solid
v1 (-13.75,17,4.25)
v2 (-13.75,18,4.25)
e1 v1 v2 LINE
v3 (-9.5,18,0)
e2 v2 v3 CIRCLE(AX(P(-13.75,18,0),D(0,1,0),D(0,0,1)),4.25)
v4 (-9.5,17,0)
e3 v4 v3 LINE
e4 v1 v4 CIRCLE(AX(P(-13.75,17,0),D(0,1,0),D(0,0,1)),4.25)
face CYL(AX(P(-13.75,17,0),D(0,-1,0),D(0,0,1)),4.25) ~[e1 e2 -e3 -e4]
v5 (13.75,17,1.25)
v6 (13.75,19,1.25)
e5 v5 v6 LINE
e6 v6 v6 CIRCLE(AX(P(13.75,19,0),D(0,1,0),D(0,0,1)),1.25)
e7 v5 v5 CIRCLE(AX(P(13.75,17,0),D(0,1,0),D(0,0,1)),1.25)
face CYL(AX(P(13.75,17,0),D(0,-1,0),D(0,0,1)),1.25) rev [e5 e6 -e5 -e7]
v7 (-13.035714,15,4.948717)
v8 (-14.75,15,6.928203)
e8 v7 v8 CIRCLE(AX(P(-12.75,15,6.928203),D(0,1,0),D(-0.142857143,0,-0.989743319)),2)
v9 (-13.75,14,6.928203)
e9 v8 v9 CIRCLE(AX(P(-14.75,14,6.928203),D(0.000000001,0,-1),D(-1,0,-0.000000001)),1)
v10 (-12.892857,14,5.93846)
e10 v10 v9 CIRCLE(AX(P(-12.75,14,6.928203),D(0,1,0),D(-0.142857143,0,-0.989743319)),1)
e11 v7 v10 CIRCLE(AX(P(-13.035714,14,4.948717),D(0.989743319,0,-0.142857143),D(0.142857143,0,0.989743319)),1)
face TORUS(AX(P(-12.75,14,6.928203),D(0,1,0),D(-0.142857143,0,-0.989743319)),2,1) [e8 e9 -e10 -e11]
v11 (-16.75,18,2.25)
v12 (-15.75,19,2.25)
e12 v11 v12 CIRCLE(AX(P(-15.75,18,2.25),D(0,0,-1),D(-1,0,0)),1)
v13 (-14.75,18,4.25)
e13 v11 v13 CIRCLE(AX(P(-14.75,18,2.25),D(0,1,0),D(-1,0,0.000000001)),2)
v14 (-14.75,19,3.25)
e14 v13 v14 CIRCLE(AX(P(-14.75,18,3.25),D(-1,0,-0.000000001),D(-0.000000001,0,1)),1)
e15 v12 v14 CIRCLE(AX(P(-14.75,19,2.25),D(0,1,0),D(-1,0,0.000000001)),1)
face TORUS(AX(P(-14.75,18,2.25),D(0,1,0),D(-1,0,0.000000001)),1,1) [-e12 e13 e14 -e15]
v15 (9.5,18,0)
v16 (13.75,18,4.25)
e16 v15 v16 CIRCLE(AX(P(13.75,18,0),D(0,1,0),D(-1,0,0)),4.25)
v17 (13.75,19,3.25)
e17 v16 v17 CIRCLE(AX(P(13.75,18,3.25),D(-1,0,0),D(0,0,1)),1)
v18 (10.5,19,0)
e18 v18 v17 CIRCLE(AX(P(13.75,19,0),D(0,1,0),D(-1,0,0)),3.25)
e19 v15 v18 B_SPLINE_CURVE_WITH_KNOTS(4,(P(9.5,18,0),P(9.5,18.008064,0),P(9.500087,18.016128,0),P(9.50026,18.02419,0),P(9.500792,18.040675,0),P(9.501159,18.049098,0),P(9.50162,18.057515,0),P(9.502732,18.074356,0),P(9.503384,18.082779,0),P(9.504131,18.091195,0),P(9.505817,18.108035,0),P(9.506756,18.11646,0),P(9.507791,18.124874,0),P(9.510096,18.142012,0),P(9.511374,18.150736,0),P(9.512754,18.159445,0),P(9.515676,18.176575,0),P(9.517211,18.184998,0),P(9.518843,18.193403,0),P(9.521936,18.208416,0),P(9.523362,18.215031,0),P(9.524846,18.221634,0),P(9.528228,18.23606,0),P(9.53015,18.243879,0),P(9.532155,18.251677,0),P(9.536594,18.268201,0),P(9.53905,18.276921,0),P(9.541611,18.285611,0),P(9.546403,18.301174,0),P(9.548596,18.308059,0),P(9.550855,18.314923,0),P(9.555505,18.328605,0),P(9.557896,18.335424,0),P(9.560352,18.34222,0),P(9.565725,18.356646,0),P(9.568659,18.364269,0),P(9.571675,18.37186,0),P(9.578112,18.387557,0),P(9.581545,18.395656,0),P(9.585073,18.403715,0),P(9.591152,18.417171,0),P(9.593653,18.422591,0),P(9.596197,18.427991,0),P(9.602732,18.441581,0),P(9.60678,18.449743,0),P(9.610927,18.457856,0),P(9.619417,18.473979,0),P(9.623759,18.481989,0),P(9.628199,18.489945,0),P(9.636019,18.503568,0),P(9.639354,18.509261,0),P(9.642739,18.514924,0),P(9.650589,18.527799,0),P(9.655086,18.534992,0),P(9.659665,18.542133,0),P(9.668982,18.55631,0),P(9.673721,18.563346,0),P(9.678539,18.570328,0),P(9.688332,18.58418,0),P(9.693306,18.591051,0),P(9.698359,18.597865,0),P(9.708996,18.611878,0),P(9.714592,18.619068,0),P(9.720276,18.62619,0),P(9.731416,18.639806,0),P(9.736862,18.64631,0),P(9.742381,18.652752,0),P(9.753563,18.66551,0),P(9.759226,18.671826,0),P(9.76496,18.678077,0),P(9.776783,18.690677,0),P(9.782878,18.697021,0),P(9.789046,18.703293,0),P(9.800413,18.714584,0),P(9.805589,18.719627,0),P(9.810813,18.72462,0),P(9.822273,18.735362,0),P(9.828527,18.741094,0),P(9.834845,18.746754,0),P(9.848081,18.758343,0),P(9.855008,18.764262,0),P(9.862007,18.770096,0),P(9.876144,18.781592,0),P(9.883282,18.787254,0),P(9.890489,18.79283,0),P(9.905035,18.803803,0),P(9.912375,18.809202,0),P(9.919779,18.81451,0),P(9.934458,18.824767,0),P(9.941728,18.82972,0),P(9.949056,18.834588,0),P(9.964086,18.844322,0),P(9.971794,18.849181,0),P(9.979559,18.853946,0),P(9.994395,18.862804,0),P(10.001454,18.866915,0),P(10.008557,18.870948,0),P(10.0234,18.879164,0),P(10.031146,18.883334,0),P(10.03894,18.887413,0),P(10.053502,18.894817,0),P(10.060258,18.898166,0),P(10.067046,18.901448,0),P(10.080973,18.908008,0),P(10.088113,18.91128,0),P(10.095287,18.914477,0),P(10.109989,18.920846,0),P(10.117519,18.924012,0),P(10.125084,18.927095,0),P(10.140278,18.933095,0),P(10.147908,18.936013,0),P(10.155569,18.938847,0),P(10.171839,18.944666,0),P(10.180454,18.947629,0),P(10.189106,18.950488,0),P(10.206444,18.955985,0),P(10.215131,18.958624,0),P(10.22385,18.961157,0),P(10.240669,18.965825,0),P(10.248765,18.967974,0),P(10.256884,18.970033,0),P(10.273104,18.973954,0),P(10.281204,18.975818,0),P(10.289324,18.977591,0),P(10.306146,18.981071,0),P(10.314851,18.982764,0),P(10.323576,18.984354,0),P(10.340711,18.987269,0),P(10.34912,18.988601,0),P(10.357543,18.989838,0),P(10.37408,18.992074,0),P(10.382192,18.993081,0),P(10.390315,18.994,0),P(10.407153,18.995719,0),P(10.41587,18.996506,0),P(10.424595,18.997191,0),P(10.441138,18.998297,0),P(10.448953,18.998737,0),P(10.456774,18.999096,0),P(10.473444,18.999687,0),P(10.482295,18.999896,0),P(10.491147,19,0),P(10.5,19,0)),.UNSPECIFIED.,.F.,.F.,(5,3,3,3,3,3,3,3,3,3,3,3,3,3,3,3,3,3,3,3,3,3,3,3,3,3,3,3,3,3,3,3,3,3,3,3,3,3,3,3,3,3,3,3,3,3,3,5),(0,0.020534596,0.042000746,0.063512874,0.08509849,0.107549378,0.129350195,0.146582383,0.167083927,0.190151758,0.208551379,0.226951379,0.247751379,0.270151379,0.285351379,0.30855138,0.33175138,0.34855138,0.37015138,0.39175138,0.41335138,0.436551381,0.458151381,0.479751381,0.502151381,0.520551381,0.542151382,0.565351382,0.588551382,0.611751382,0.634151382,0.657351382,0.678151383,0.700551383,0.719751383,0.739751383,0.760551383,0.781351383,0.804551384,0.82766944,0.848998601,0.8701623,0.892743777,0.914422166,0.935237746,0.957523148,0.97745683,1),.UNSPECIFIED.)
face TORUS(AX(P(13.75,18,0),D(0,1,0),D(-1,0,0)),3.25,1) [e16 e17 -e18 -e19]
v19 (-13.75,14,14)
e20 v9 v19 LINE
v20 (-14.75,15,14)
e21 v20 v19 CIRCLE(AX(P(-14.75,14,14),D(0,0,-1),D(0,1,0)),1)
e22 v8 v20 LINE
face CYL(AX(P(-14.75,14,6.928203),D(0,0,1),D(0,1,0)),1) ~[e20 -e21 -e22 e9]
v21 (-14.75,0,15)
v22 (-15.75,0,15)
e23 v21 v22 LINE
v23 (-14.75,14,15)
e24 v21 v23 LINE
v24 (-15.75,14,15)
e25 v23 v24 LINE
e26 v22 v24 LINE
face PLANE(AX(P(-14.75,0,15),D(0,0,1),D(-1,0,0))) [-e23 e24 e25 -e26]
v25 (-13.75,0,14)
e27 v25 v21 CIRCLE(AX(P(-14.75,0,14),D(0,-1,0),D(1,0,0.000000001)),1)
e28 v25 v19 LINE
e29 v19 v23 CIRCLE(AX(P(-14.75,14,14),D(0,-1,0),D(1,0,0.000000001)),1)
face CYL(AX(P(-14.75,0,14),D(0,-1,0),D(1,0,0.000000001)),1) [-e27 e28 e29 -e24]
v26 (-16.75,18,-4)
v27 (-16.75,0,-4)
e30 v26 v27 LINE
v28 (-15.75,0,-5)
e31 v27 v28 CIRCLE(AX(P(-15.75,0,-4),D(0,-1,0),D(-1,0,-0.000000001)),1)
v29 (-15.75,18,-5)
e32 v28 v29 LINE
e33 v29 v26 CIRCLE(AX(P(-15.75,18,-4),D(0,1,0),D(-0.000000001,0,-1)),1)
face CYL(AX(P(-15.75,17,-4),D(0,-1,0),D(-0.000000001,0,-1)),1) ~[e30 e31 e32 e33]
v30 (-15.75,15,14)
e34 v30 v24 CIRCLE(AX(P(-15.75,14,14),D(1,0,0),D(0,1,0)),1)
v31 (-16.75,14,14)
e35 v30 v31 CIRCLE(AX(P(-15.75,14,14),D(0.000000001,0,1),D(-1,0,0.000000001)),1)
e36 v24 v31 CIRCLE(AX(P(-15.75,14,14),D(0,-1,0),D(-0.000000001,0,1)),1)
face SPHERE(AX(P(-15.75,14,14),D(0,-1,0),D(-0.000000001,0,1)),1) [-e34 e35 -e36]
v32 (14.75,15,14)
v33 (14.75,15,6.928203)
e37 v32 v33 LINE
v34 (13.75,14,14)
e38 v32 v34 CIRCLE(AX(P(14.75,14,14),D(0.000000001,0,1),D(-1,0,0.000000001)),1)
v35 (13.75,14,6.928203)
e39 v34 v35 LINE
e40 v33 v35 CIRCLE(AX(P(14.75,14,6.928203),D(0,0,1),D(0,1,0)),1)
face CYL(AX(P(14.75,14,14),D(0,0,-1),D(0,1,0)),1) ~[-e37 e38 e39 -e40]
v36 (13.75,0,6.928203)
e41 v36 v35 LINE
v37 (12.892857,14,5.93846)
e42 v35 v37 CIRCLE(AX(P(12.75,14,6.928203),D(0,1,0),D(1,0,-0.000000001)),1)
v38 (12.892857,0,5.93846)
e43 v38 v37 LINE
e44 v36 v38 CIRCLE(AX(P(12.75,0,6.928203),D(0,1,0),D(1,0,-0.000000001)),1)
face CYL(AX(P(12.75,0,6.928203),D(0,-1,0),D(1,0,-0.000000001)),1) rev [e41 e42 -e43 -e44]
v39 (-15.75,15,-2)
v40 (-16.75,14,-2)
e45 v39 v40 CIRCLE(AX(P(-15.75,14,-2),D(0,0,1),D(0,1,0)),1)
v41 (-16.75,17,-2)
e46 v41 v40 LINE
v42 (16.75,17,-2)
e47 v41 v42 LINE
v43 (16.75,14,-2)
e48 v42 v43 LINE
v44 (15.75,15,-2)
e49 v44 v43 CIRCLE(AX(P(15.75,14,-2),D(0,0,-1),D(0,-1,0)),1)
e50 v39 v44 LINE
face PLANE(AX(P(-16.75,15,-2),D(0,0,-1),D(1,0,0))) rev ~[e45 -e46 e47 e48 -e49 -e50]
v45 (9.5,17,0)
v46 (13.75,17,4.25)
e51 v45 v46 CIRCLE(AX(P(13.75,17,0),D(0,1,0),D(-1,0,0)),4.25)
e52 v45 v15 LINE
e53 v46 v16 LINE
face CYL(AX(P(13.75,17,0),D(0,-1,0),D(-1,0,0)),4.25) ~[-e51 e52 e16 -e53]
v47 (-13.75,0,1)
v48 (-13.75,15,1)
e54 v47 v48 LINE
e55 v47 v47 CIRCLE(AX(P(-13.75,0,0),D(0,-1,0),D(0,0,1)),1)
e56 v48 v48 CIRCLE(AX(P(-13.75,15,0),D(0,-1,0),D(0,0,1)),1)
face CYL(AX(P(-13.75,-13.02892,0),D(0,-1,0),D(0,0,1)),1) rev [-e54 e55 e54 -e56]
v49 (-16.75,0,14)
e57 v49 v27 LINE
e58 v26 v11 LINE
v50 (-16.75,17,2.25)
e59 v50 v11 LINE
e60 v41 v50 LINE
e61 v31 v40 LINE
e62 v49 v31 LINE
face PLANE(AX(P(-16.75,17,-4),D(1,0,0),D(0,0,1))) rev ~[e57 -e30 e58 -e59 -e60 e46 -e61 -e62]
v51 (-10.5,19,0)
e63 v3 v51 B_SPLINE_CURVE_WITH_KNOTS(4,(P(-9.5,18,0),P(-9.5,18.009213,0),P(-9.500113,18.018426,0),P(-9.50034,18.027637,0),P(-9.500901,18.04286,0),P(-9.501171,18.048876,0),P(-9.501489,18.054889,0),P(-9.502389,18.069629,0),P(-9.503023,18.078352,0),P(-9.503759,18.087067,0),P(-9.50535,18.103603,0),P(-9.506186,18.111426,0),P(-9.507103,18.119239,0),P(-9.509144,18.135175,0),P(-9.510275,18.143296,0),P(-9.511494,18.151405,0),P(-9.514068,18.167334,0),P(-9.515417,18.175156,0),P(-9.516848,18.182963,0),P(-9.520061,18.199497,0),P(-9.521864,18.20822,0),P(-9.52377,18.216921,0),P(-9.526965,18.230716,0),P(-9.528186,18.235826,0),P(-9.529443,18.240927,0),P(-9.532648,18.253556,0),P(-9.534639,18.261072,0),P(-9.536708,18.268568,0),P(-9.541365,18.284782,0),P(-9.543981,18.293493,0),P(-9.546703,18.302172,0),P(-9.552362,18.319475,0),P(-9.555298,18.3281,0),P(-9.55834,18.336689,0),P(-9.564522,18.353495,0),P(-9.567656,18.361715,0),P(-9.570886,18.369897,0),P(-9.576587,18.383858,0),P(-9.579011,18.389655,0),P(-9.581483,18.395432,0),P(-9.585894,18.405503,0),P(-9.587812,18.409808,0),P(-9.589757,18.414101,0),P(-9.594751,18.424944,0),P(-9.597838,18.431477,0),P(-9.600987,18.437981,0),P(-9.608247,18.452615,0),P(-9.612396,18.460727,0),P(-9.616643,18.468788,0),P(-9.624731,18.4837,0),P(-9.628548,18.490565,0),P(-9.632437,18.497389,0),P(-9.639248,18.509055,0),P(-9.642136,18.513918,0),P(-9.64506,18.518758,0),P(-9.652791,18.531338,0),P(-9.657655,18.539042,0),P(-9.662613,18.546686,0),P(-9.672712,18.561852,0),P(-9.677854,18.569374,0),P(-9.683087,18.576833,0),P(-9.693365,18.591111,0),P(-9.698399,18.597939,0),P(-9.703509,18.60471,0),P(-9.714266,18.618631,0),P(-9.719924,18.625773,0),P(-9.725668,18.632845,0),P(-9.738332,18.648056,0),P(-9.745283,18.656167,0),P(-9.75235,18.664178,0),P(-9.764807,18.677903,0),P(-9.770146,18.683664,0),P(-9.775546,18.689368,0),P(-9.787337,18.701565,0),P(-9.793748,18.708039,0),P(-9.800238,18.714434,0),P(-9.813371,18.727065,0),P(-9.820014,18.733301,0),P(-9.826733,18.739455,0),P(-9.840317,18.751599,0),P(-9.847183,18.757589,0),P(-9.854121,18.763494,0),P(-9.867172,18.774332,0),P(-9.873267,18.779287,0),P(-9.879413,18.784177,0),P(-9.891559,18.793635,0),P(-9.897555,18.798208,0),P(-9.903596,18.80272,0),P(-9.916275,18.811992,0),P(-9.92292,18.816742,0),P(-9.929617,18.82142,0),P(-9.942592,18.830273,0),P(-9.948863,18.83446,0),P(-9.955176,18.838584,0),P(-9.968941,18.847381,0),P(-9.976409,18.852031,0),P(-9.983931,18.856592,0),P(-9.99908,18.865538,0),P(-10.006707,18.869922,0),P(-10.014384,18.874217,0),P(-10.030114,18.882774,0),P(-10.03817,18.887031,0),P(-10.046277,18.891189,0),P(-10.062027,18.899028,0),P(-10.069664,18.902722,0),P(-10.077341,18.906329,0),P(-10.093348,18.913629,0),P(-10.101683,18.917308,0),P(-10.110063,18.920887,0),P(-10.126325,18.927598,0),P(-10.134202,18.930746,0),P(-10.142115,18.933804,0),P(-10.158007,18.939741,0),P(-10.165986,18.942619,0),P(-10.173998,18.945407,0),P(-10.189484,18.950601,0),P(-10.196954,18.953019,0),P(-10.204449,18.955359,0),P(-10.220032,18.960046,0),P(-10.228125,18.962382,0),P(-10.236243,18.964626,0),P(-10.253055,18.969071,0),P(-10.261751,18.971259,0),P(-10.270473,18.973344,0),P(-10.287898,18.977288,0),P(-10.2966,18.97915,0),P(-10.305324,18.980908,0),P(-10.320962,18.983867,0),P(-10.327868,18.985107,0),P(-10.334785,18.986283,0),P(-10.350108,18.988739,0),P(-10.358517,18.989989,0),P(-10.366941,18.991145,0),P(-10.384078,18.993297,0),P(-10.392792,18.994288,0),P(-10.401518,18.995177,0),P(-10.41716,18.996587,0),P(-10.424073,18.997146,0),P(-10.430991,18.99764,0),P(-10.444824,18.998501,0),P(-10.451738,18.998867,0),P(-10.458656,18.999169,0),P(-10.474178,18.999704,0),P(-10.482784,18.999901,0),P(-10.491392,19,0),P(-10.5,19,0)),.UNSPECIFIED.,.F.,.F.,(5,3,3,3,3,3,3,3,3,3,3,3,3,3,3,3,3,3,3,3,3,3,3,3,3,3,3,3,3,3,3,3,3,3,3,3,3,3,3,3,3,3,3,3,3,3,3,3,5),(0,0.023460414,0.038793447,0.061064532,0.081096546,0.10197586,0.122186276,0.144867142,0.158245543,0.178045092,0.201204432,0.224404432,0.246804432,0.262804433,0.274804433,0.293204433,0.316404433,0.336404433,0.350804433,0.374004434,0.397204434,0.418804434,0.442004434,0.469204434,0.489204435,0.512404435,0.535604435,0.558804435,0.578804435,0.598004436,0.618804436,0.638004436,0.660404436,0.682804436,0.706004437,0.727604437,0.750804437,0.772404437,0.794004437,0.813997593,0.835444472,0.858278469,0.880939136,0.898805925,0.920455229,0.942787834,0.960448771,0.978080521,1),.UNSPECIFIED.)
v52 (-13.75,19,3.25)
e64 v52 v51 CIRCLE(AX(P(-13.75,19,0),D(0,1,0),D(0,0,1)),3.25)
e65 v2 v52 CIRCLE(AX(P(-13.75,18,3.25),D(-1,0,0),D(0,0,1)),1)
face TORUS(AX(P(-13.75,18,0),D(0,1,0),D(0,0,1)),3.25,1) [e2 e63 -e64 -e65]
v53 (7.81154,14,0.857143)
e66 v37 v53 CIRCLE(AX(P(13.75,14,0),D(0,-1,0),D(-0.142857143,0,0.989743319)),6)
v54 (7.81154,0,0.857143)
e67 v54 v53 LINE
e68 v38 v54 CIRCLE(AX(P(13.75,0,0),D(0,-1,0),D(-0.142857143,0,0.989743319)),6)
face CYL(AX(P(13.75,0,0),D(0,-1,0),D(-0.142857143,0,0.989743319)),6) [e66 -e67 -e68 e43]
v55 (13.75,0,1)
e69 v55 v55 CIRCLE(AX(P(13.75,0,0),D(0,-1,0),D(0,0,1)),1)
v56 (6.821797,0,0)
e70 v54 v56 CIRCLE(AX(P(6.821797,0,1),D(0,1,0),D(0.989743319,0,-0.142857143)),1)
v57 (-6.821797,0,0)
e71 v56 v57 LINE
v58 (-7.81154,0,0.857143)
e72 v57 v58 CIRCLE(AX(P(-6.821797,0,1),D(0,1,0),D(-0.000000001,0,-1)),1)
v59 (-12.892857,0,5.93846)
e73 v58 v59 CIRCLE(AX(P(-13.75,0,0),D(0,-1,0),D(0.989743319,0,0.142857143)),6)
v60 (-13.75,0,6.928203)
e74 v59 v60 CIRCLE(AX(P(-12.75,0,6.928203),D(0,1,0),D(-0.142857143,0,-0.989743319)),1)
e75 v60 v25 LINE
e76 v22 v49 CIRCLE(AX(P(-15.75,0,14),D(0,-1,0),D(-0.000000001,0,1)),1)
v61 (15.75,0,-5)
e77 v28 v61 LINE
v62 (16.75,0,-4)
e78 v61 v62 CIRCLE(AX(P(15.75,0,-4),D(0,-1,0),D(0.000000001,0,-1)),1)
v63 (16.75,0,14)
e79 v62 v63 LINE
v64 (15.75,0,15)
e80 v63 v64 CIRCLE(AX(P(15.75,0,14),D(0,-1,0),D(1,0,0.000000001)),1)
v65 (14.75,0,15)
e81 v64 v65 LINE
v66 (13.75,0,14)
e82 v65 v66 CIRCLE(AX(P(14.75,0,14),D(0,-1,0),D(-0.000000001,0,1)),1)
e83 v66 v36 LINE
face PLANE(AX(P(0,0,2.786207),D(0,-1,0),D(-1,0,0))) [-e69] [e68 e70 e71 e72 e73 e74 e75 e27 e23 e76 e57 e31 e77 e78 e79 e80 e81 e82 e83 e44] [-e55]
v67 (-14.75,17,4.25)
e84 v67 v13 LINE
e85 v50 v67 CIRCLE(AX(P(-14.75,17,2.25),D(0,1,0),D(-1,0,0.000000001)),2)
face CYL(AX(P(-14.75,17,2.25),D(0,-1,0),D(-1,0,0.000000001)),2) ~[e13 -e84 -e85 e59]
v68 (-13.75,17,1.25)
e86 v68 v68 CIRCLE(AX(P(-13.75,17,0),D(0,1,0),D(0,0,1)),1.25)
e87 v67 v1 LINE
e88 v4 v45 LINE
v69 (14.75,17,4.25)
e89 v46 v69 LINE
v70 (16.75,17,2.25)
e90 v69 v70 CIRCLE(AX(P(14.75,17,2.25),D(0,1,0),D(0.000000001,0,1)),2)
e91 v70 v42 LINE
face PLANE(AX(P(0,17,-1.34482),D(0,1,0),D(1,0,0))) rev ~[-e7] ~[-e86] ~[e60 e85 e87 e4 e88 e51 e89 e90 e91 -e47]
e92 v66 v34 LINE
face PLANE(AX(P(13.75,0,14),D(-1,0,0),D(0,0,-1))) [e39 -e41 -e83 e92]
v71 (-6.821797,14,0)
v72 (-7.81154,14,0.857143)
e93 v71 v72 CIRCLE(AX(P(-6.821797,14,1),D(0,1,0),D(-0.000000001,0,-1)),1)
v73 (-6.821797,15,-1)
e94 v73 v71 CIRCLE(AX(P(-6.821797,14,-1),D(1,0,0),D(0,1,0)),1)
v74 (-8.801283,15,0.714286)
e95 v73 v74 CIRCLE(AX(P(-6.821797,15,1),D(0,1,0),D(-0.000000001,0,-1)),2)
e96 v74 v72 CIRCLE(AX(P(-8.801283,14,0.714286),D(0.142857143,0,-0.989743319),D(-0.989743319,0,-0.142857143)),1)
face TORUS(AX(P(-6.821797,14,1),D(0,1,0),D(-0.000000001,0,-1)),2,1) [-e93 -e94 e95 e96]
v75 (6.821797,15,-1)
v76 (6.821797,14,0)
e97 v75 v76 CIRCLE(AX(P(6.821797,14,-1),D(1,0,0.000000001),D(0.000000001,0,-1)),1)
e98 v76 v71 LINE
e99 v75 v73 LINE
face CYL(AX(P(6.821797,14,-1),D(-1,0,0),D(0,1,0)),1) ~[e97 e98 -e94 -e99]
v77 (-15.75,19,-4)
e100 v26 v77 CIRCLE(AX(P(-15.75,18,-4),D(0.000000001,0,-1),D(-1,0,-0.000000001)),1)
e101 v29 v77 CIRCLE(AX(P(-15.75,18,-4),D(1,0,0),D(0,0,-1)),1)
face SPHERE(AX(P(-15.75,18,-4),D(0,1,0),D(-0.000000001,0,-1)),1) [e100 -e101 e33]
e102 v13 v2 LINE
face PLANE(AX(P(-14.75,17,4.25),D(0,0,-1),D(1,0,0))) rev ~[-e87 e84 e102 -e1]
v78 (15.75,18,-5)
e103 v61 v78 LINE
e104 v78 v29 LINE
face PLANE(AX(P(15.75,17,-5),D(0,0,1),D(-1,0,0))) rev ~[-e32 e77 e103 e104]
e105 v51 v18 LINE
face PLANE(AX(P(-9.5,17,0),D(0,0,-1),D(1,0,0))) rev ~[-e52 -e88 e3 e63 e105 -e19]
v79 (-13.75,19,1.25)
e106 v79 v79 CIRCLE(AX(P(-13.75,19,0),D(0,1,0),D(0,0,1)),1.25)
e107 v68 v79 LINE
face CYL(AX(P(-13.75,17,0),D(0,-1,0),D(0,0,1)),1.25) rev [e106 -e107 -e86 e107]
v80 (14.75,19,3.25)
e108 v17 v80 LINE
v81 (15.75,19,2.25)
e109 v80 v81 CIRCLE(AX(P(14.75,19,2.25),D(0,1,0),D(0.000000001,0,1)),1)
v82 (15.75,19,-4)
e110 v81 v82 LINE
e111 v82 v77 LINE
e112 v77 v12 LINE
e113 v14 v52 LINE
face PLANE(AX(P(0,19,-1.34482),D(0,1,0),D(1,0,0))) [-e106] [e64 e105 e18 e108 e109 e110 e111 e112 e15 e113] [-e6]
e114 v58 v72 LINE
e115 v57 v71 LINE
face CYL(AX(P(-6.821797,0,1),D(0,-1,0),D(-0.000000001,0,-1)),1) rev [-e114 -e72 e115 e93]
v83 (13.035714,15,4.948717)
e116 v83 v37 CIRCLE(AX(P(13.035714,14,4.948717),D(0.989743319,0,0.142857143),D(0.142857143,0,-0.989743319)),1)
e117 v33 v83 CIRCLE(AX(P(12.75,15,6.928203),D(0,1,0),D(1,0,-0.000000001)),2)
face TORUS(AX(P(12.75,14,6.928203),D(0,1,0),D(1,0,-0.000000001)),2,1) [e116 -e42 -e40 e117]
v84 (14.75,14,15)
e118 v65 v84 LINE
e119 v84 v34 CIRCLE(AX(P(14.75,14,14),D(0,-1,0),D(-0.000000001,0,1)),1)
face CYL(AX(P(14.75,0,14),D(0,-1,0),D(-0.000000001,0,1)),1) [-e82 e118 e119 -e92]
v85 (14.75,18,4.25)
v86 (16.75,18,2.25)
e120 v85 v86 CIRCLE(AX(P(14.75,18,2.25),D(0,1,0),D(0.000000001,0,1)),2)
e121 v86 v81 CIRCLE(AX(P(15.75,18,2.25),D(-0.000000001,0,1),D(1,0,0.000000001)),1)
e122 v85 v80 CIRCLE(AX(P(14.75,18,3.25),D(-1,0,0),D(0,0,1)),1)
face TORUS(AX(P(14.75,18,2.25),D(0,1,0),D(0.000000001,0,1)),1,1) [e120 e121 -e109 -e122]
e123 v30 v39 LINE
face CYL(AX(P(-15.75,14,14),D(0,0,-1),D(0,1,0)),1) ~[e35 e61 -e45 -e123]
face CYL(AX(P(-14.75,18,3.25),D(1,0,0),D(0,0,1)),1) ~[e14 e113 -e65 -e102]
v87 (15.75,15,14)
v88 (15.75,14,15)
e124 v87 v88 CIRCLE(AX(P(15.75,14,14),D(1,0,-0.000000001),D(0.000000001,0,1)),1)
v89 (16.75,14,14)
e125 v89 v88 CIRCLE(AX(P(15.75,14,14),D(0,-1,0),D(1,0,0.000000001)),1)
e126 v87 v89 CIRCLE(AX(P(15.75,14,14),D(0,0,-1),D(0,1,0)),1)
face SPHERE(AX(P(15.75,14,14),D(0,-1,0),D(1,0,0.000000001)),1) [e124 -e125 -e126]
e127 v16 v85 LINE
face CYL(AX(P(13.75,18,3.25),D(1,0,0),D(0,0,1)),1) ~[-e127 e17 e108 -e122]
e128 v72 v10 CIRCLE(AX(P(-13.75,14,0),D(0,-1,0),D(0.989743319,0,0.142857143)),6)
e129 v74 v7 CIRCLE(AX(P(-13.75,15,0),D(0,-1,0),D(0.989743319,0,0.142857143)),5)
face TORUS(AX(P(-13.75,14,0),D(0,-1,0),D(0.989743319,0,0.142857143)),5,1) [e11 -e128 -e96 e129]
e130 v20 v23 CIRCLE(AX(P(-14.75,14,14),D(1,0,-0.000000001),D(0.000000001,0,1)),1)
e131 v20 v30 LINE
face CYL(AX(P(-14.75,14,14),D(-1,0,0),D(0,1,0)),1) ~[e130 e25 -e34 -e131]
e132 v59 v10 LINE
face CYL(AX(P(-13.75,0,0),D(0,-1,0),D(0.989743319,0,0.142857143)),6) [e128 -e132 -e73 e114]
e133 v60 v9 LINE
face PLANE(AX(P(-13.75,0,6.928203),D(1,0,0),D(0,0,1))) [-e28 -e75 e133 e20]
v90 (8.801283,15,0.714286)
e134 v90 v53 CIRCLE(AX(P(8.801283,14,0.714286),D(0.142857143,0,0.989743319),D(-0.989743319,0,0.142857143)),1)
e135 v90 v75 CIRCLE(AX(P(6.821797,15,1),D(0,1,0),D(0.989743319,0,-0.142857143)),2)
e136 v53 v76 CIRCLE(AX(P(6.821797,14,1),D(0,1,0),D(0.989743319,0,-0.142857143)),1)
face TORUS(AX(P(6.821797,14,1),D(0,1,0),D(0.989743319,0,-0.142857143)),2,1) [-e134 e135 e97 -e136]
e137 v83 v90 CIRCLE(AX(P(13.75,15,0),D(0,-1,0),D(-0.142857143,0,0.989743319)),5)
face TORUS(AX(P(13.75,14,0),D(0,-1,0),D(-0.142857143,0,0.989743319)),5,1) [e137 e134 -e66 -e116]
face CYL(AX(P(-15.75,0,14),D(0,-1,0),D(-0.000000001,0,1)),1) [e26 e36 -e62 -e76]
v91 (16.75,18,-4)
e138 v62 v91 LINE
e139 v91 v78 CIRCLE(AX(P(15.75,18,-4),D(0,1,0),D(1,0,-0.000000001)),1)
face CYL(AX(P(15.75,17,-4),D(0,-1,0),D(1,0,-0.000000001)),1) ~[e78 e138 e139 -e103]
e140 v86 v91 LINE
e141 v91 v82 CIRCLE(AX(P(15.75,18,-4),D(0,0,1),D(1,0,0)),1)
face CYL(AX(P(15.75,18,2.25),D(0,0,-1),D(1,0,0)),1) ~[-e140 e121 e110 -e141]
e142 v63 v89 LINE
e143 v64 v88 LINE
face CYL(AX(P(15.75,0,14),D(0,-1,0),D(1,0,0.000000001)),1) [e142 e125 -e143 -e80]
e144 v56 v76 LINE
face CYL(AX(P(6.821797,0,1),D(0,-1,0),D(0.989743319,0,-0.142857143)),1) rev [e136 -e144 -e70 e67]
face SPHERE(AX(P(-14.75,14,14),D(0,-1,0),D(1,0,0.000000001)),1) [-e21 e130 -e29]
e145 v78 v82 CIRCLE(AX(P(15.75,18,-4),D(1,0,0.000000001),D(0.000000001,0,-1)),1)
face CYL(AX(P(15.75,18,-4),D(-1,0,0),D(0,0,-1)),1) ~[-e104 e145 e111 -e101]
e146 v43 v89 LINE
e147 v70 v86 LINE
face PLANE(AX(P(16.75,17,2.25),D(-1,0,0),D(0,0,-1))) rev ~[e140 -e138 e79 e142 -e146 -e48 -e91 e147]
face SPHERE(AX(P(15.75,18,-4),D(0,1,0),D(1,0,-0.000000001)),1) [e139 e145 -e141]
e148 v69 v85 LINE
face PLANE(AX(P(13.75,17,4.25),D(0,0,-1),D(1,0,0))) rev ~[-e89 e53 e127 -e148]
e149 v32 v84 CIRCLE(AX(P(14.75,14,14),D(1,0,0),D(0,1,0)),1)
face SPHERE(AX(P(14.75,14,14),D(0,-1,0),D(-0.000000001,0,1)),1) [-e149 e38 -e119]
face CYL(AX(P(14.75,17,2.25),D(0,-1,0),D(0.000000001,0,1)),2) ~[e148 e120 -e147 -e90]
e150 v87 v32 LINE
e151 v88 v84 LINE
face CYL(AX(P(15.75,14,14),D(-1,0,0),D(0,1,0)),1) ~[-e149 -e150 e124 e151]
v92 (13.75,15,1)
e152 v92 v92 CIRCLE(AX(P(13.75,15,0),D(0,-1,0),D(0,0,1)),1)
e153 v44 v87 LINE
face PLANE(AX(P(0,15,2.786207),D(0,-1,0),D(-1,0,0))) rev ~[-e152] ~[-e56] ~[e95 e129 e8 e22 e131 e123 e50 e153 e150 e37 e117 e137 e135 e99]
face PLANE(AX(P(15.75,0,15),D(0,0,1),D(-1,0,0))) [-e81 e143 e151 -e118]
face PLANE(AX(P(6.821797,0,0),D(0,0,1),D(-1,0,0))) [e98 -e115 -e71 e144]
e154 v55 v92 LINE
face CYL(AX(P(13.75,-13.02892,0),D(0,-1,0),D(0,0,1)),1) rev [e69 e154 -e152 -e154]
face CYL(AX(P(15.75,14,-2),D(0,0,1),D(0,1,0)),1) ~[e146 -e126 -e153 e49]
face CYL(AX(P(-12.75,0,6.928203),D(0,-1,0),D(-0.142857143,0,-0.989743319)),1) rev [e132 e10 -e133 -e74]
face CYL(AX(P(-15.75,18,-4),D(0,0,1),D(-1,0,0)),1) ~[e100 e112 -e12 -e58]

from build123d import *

# Parameters (mm, degrees)
MAIN_BODY_DEPTH                = 15
EXTENSION_FOR_TOP_FLANGE_DEPTH = 2
SKETCH4_R                      = 1.25
TOP_CAMERA_FLANGE_DEPTH        = 2
M2_SCREWHOLE_DEPTH             = 28.028919697
M2_SCREWHOLE_DEPTH_BACK        = 28.028919697
SKETCH5_R                      = 1
FILLET1_R                      = 1


with BuildPart() as part:
    # Sketch2 → Main body (new body)
    with BuildSketch(Plane(origin=(0, 0, 0), x_dir=(1, 0, 0), z_dir=(0, 1, 0))):
        with BuildLine():
            Line((-16.75, -14), (-16.75, 4))
            ThreePointArc((-16.75, 4), (-16.457106781, 4.707106781), (-15.75, 5))
            Line((-15.75, 5), (15.75, 5))
            ThreePointArc((15.75, 5), (16.457106781, 4.707106781), (16.75, 4))
            Line((16.75, 4), (16.75, -14))
            ThreePointArc((16.75, -14), (16.457106781, -14.707106781), (15.75, -15))
            Line((15.75, -15), (14.75, -15))
            ThreePointArc((14.75, -15), (14.042893219, -14.707106781), (13.75, -14))
            Line((13.75, -14), (13.75, -6.92820323))
            ThreePointArc((13.75, -6.92820323), (13.505928946, -6.27354956), (12.892857143, -5.938459912))
            ThreePointArc((12.892857143, -5.938459912), (9.507359313, -4.242640687), (7.811540088, -0.857142857))
            ThreePointArc((7.811540088, -0.857142857), (7.47645044, -0.244071054), (6.82179677, 0))
            Line((6.82179677, 0), (-6.82179677, 0))
            ThreePointArc((-6.82179677, 0), (-7.47645044, -0.244071054), (-7.811540088, -0.857142857))
            ThreePointArc((-7.811540088, -0.857142857), (-9.507359313, -4.242640687), (-12.892857143, -5.938459912))
            ThreePointArc((-12.892857143, -5.938459912), (-13.505928946, -6.27354956), (-13.75, -6.92820323))
            Line((-13.75, -6.92820323), (-13.75, -14))
            ThreePointArc((-13.75, -14), (-14.042893219, -14.707106781), (-14.75, -15))
            Line((-14.75, -15), (-15.75, -15))
            ThreePointArc((-15.75, -15), (-16.457106781, -14.707106781), (-16.75, -14))
        make_face()
    extrude(amount=MAIN_BODY_DEPTH)

    # Sketch3 → Extension for top flange (add)
    with BuildSketch(Plane(origin=(0, 15, 0), x_dir=(1, 0, 0), z_dir=(0, 1, 0))):
        with BuildLine():
            Line((16.75, 2), (16.75, 4))
            ThreePointArc((16.75, 4), (16.457106781, 4.707106781), (15.75, 5))
            Line((15.75, 5), (-15.75, 5))
            ThreePointArc((-15.75, 5), (-16.457106781, 4.707106781), (-16.75, 4))
            Line((-16.75, 4), (-16.75, 2))
            Line((-16.75, 2), (16.75, 2))
        make_face()
    extrude(amount=EXTENSION_FOR_TOP_FLANGE_DEPTH)

    # Sketch4 → Top camera flange (add)
    with BuildSketch(Plane(origin=(0, 17, 0), x_dir=(1, 0, 0), z_dir=(0, 1, 0))):
        with BuildLine():
            Line((16.75, -2.25), (16.75, 2))
            Line((16.75, 2), (16.75, 4))
            ThreePointArc((16.75, 4), (16.457106781, 4.707106781), (15.75, 5))
            Line((15.75, 5), (-15.75, 5))
            ThreePointArc((-15.75, 5), (-16.457106781, 4.707106781), (-16.75, 4))
            Line((-16.75, 4), (-16.75, 2))
            Line((-16.75, 2), (-16.75, -2.25))
            ThreePointArc((-16.75, -2.25), (-16.164213562, -3.664213562), (-14.75, -4.25))
            Line((-14.75, -4.25), (-13.75, -4.25))
            ThreePointArc((-13.75, -4.25), (-10.74479618, -3.00520382), (-9.5, 0))
            Line((-9.5, 0), (9.5, 0))
            ThreePointArc((9.5, 0), (10.74479618, -3.00520382), (13.75, -4.25))
            Line((13.75, -4.25), (14.75, -4.25))
            ThreePointArc((14.75, -4.25), (16.164213562, -3.664213562), (16.75, -2.25))
        make_face()
        with Locations(Location((-13.75, 0, 0), (0, 0, 270))):
            Circle(SKETCH4_R, mode=Mode.SUBTRACT)
        with Locations(Location((13.75, 0, 0), (0, 0, 270))):
            Circle(SKETCH4_R, mode=Mode.SUBTRACT)
    extrude(amount=TOP_CAMERA_FLANGE_DEPTH)

    # Sketch5 → M2 screwhole (cut, two sides: drawn at the far end of the back side and taken through both)
    with BuildSketch(Plane(origin=(0, 15, 0), x_dir=(1, 0, 0), z_dir=(0, 1, 0)).offset(-M2_SCREWHOLE_DEPTH_BACK)):
        with Locations(Location((-13.75, 0, 0), (0, 0, 270))):
            Circle(SKETCH5_R)
        with Locations(Location((13.75, 0, 0), (0, 0, 270))):
            Circle(SKETCH5_R)
    extrude(amount=M2_SCREWHOLE_DEPTH + M2_SCREWHOLE_DEPTH_BACK, mode=Mode.SUBTRACT)

    # Fillet1
    fillet1_edges = [part.edges().sort_by_distance(p)[0] for p in [
        (-13.505928946, 15, 6.27354956),
        (-9.507359313, 15, 4.242640687),
        (-7.47645044, 15, 0.244071054),
        (0, 15, 0),
        (7.47645044, 15, 0.244071054),
        (9.507359313, 15, 4.242640687),
        (13.505928946, 15, 6.27354956),
        (13.75, 15, 10.464101615),
        (14.042893219, 15, 14.707106781),
        (15.25, 15, 15),
        (-14.042893219, 15, 14.707106781),
        (16.457106781, 15, 14.707106781),
        (16.75, 15, 6),
        (-16.75, 15, 6),
        (-16.457106781, 15, 14.707106781),
        (-15.25, 15, 15),
        (16.75, 19, -0.875),
        (16.457106781, 19, -4.707106781),
        (0, 19, -5),
        (-16.457106781, 19, -4.707106781),
        (-16.75, 19, -0.875),
        (-16.164213562, 19, 3.664213562),
        (-14.25, 19, 4.25),
        (-10.74479618, 19, 3.00520382),
        (10.74479618, 19, 3.00520382),
        (14.25, 19, 4.25),
        (16.164213562, 19, 3.664213562),
        (-13.75, 15, 10.464101615),
    ]]
    fillet(fillet1_edges, radius=FILLET1_R)


solid = part.part
